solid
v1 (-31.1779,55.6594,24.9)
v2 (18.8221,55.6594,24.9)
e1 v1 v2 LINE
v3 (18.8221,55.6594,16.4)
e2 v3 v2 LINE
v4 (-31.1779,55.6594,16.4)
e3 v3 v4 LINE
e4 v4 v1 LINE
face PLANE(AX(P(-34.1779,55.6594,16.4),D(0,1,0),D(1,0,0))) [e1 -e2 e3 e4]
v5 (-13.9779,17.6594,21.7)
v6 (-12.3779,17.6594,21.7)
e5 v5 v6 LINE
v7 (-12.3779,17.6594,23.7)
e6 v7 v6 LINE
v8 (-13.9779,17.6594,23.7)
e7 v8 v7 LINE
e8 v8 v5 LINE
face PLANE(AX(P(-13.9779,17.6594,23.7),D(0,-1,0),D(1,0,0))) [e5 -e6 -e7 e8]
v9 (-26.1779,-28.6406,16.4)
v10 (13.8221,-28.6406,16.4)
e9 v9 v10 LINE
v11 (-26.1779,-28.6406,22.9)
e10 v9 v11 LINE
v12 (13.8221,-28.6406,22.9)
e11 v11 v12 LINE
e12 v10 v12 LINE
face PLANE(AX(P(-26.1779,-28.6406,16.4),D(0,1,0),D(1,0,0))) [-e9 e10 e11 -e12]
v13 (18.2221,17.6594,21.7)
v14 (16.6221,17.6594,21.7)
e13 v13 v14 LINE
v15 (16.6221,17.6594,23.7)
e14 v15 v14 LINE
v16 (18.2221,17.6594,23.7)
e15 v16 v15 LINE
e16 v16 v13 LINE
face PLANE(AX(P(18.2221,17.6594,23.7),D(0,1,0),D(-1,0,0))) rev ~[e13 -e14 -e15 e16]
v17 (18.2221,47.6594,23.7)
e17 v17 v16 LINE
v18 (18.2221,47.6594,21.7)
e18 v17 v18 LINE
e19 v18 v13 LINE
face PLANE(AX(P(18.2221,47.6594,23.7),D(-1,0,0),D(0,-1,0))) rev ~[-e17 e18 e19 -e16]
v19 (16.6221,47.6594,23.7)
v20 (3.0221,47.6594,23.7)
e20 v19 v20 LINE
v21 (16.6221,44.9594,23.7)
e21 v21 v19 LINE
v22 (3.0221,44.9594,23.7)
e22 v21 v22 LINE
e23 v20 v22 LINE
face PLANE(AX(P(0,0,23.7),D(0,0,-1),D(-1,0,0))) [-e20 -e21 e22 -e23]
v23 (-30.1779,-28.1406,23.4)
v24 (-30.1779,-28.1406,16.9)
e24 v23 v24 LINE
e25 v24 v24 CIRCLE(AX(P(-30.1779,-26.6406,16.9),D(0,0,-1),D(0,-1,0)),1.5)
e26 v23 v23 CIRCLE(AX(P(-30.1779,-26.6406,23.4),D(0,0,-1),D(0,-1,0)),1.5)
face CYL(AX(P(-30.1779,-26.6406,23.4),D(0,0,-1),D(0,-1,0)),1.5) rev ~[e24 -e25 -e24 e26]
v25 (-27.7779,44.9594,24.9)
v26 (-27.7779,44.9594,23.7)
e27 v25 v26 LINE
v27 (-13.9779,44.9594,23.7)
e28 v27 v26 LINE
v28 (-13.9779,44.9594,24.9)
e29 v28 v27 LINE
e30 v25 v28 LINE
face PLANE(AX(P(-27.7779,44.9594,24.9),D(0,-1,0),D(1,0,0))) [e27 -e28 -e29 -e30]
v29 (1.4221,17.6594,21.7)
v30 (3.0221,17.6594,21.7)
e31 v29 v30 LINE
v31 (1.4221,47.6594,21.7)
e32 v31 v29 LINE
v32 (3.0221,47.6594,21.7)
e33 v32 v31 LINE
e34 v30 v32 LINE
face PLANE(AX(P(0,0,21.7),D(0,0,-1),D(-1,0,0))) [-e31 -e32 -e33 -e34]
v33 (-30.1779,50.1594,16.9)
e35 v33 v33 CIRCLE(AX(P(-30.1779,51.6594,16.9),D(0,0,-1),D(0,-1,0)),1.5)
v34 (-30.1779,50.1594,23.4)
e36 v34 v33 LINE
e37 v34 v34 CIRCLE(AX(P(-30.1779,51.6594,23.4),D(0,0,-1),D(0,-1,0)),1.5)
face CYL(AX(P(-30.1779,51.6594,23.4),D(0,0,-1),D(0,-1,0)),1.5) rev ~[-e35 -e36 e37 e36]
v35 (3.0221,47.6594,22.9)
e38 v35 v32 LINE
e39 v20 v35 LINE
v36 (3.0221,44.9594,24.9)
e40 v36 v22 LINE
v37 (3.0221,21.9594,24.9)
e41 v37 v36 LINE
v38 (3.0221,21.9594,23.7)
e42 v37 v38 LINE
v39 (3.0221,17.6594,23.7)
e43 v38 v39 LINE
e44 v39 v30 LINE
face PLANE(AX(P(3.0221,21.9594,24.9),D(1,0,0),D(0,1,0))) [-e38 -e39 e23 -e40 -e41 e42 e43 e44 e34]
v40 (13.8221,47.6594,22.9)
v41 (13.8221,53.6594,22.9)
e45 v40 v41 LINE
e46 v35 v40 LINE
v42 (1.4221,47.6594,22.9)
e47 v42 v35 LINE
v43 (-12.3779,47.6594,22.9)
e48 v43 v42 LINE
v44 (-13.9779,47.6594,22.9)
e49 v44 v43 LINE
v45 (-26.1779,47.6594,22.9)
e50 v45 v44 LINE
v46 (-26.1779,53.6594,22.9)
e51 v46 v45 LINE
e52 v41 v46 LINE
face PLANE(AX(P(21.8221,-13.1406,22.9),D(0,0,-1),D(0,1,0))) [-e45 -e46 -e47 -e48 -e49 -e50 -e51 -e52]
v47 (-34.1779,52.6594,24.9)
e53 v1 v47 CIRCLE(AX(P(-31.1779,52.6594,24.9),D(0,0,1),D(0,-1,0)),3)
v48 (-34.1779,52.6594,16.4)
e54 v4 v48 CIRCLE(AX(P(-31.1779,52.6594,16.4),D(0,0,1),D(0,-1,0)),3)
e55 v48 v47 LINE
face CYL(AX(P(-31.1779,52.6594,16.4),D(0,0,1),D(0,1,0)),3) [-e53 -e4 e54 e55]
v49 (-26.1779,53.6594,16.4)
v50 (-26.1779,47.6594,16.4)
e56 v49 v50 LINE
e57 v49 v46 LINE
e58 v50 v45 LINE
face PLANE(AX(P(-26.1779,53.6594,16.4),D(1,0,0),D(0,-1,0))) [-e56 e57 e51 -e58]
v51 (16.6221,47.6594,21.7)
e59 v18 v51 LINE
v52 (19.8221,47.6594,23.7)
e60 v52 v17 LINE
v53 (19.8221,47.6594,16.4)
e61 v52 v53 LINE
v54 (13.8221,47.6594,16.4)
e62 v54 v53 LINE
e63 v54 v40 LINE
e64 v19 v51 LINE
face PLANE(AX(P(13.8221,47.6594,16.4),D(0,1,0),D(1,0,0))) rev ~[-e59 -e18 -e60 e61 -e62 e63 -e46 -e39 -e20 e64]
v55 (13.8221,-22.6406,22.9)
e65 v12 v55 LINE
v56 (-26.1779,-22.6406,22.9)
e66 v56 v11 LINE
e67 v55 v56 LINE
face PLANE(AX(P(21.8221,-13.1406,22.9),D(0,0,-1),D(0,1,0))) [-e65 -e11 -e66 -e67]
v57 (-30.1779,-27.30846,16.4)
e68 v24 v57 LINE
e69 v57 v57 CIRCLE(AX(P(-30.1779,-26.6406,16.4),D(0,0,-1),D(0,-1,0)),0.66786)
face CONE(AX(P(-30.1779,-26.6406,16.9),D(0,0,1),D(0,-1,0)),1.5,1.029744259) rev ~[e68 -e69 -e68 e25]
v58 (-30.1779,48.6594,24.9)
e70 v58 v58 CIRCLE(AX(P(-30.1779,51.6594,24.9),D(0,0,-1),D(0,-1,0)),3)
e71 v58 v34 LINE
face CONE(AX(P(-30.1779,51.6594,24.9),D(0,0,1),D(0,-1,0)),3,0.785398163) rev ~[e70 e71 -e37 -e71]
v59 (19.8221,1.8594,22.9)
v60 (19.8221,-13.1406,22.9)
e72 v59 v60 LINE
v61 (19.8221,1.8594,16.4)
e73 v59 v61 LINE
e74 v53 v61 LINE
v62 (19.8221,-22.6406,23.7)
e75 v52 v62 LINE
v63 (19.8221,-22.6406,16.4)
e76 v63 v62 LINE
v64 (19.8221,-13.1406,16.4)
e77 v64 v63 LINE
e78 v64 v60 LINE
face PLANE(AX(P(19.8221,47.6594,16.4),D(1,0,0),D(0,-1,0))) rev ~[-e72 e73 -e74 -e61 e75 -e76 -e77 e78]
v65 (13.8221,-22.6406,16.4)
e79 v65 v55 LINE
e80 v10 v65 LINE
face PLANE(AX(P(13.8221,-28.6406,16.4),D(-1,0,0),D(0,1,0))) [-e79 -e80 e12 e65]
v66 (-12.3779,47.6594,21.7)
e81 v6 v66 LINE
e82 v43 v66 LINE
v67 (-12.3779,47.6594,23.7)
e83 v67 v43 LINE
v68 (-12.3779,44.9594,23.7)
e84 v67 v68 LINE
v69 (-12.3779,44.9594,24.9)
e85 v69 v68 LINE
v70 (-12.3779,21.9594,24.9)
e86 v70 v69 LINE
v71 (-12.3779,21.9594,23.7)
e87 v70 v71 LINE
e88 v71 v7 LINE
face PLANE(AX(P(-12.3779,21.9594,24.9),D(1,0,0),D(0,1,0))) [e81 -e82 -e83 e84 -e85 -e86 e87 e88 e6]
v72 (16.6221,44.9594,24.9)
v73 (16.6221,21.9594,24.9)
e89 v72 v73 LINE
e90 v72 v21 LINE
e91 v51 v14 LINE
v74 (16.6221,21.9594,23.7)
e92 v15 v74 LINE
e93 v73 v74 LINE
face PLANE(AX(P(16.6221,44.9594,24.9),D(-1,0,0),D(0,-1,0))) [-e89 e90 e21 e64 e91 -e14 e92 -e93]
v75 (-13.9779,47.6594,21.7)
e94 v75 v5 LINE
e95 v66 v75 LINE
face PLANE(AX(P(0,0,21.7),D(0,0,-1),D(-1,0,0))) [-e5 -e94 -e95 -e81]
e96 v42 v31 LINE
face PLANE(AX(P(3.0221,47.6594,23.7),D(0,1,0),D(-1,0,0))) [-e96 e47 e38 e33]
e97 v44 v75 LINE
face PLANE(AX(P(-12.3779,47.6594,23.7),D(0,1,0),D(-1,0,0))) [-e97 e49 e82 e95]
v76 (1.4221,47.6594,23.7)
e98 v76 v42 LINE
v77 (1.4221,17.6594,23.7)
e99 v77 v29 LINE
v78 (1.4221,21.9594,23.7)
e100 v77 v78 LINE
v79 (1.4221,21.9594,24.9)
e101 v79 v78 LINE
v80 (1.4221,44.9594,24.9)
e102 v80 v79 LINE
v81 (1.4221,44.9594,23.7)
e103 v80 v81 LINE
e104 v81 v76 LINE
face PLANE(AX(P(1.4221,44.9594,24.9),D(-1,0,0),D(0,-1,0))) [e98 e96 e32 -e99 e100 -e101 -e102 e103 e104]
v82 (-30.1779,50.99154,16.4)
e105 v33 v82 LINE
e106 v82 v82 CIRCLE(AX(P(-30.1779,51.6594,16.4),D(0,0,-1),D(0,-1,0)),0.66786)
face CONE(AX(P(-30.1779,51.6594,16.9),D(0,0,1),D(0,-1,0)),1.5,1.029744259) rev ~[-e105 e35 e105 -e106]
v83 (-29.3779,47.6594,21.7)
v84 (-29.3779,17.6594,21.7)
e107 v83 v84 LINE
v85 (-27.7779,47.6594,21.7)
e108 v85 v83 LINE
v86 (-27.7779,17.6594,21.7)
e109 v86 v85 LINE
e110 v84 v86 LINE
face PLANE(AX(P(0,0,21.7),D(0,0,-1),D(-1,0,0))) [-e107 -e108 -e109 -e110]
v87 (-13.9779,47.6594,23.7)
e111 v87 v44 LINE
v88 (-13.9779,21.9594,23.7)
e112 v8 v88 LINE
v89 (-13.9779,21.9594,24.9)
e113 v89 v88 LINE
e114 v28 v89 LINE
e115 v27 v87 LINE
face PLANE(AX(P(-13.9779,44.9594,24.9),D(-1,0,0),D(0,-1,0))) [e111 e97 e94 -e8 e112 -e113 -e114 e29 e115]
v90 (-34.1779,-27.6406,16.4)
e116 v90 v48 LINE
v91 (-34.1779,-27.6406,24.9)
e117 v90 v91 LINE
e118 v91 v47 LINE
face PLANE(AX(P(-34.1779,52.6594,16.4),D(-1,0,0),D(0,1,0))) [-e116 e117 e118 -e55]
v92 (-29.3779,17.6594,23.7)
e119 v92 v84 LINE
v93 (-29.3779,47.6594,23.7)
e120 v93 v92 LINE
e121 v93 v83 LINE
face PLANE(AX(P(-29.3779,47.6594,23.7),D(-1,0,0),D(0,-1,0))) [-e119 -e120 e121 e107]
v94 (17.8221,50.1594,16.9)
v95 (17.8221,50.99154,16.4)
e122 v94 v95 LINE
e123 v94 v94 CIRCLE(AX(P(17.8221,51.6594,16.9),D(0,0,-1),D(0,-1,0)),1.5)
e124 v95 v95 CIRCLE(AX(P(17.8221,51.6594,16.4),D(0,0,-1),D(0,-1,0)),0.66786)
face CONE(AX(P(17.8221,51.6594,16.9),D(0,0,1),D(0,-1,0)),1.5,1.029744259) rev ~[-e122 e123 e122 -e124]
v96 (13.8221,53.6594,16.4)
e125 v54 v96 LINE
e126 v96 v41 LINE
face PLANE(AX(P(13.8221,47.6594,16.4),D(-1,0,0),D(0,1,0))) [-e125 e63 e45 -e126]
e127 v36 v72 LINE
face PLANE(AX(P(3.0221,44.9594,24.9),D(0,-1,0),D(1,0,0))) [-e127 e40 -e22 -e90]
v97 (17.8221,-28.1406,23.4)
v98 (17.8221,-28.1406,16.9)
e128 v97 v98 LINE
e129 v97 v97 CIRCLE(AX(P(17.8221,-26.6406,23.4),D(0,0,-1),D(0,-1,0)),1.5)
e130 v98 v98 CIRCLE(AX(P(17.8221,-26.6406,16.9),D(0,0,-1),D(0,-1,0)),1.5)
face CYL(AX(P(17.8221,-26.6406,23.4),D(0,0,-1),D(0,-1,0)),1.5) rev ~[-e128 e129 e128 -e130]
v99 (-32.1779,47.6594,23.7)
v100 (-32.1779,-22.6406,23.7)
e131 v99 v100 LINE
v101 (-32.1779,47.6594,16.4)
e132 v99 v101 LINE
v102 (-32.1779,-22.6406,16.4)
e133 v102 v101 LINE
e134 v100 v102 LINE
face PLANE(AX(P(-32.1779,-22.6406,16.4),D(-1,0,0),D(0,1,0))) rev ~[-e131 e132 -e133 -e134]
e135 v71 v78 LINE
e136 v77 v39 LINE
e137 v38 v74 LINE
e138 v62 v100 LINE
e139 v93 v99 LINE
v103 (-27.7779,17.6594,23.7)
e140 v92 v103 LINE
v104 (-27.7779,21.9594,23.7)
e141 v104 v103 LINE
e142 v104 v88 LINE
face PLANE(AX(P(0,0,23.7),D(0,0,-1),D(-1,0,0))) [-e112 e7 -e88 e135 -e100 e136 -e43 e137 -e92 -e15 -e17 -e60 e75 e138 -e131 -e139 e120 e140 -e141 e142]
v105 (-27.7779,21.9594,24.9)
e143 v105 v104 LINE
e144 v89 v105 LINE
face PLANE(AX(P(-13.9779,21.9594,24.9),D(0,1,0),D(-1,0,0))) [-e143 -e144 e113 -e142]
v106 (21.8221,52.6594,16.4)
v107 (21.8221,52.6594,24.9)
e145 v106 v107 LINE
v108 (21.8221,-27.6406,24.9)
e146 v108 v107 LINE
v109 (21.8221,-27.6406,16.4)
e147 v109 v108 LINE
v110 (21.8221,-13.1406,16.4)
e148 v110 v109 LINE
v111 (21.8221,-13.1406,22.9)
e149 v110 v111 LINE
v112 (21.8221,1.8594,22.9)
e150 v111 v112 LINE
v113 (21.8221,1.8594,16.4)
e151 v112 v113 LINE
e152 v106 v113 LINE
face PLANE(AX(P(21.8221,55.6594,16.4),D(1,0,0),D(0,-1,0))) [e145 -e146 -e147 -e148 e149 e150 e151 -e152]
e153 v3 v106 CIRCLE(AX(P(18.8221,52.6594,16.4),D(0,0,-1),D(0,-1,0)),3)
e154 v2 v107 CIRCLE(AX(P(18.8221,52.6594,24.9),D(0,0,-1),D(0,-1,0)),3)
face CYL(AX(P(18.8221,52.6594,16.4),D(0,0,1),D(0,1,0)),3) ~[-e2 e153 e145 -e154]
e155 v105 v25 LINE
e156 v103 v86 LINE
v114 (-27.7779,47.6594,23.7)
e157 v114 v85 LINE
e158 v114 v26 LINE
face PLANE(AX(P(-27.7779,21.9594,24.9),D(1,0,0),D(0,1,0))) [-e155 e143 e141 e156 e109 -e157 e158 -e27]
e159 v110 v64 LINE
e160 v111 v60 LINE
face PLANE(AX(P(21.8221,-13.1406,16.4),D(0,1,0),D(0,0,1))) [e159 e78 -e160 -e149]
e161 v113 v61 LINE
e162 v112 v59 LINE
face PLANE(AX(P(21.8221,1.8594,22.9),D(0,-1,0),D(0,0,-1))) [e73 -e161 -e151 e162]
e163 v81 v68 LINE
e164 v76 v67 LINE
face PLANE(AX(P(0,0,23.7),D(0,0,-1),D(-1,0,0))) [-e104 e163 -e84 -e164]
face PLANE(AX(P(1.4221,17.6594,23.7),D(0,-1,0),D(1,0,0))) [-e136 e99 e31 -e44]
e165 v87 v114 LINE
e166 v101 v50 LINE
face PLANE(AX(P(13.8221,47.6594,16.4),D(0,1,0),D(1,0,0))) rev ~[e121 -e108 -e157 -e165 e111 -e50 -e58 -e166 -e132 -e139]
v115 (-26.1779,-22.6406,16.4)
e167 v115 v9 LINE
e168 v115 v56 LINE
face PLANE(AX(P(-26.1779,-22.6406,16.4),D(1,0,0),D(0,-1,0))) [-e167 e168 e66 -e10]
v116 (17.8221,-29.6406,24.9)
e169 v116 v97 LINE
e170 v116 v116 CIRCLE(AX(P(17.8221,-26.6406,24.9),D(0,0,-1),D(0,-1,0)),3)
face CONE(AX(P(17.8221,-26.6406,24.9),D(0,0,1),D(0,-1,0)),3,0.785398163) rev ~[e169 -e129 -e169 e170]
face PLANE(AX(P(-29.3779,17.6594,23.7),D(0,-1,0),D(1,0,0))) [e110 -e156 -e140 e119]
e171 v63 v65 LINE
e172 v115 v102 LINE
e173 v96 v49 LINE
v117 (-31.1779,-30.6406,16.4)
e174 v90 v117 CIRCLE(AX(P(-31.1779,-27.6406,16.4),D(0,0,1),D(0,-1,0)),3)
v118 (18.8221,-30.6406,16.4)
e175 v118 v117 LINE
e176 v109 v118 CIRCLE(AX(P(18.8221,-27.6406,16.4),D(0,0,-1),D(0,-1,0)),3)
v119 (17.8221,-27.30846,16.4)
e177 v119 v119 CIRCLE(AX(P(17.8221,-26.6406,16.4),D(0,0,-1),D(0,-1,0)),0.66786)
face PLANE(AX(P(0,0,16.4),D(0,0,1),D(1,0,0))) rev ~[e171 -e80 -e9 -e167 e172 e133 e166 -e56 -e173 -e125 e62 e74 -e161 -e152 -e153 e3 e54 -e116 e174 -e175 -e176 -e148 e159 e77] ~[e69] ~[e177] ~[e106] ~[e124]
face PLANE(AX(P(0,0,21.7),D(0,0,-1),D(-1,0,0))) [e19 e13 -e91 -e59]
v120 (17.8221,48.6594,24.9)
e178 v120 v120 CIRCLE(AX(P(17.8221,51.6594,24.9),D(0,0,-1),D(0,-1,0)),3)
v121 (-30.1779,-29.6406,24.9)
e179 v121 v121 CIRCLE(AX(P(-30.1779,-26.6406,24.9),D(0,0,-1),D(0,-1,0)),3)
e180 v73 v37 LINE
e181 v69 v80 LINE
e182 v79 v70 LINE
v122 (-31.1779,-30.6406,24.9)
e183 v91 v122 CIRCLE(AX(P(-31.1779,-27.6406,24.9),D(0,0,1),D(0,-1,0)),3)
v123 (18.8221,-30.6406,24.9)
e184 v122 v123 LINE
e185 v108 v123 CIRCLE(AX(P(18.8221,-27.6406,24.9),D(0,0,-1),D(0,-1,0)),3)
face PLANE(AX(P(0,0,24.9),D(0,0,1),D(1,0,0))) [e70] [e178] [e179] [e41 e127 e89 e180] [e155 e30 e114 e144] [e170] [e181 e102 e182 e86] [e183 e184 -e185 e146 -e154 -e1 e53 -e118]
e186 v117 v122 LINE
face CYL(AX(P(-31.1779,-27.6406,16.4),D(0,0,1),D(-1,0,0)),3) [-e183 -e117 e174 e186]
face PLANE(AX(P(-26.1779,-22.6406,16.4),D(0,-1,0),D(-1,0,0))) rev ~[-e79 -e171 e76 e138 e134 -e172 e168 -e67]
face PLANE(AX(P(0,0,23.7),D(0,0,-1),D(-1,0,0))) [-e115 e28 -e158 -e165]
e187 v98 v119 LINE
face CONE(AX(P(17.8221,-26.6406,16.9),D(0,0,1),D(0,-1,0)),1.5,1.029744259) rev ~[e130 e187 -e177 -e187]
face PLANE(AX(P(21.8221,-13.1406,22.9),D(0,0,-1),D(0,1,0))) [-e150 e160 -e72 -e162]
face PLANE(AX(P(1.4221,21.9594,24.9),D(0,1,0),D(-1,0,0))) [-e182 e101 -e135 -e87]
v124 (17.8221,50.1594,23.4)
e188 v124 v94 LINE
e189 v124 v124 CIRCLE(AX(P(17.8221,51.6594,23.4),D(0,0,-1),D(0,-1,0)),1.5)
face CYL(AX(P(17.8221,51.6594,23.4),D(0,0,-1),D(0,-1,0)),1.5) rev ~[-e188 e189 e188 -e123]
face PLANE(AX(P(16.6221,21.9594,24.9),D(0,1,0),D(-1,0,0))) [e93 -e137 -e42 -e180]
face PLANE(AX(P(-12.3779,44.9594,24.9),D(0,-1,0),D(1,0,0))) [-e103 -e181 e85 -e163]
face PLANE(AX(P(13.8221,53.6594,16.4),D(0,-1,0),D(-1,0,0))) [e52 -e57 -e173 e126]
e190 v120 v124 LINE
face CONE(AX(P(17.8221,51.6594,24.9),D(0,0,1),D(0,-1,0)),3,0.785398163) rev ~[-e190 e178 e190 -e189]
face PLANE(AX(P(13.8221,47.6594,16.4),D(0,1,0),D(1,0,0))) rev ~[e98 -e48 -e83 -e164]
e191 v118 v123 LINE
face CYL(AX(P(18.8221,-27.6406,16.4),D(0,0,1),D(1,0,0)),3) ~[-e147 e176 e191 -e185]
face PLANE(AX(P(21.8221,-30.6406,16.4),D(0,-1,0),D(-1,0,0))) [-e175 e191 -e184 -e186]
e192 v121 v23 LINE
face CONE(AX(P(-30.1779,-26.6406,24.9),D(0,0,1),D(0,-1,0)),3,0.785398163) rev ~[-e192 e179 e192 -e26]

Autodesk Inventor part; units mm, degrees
ref_plane "YZ Plane" through (0, 0, 0) normal (1, 0, 0) x (0, 1, 0)
ref_plane "XZ Plane" through (0, 0, 0) normal (0, 1, 0) x (-1, 0, 0)
ref_plane "XY Plane" through (0, 0, 0) normal (0, 0, 1) x (1, 0, 0)
sketch "Sketch1" plane through (0, 0, 0) normal (0, 0, 1) x (1, 0, 0)
  line L0 (-34.1779, 55.6594) -> (21.8221, 55.6594)
  line L1 (21.8221, 55.6594) -> (21.8221, -30.6406)
  line L2 (21.8221, -30.6406) -> (-34.1779, -30.6406)
  line L3 (-34.1779, -30.6406) -> (-34.1779, 55.6594)
  point P0 (0, 0)
  dimension "d0" = 56
  dimension "d1" = 86.3
extrude "Extrusion1" add sketch "Sketch1" along normal blind 2
sketch "Sketch2" plane through (0, 0, 2) normal (0, 0, 1) x (1, 0, 0)
  line L0 (-34.1779, 55.6594) -> (21.8221, 55.6594)
  line L1 (21.8221, 55.6594) -> (21.8221, -30.6406)
  line L2 (21.8221, -30.6406) -> (-34.1779, -30.6406)
  line L3 (-34.1779, -30.6406) -> (-34.1779, 55.6594)
  line L4 (-32.1779, 53.6594) -> (19.8221, 53.6594)
  line L5 (19.8221, 53.6594) -> (19.8221, -28.6406)
  line L6 (19.8221, -28.6406) -> (-32.1779, -28.6406)
  line L7 (-32.1779, -28.6406) -> (-32.1779, 53.6594)
  point P0 (0, 0)
  dimension "d4" = 2
  dimension "d5" = 2
  dimension "d6" = 2
  dimension "d7" = 2
extrude "Extrusion2" add sketch "Sketch2" along normal blind 14.4
sketch "Sketch3" plane through (0, 0, 2) normal (0, 0, 1) x (1, 0, 0)
  line L0 (-34.1779, 55.6594) -> (-26.1779, 55.6594)
  line L1 (-26.1779, 55.6594) -> (-26.1779, 47.6594)
  line L2 (-26.1779, 47.6594) -> (-34.1779, 47.6594)
  line L3 (-34.1779, 47.6594) -> (-34.1779, 55.6594)
  line L4 (21.8221, 55.6594) -> (13.8221, 55.6594)
  line L5 (13.8221, 55.6594) -> (13.8221, 47.6594)
  line L6 (13.8221, 47.6594) -> (21.8221, 47.6594)
  line L7 (21.8221, 47.6594) -> (21.8221, 55.6594)
  line L8 (-34.1779, -30.6406) -> (-26.1779, -30.6406)
  line L9 (-26.1779, -30.6406) -> (-26.1779, -22.6406)
  line L10 (-26.1779, -22.6406) -> (-34.1779, -22.6406)
  line L11 (-34.1779, -22.6406) -> (-34.1779, -30.6406)
  line L12 (21.8221, -30.6406) -> (13.8221, -30.6406)
  line L13 (13.8221, -30.6406) -> (13.8221, -22.6406)
  line L14 (13.8221, -22.6406) -> (21.8221, -22.6406)
  line L15 (21.8221, -22.6406) -> (21.8221, -30.6406)
  line L16 (-34.1779, -30.6406) -> (21.8221, -30.6406) projected
  point P0 (0, 0)
  dimension "d10" = 8
  dimension "d11" = 8
  dimension "d12" = 8
  dimension "d13" = 8
  dimension "d14" = 8
  dimension "d15" = 8
  dimension "d16" = 8
  dimension "d17" = 8
extrude "Extrusion3" add sketch "Sketch3" along normal blind 14.4
sketch "Sketch4" plane through (0, 0, 16.4) normal (0, 0, 1) x (1, 0, 0)
  line L0 (-26.1779, -22.6406) -> (-32.1779, -22.6406) projected
  line L1 (19.8221, -22.6406) -> (13.8221, -22.6406) projected
  line L2 (21.8221, 55.6594) -> (21.8221, -30.6406) projected
  line L3 (21.8221, 55.6594) -> (-34.1779, 55.6594) projected
  line L4 (-34.1779, -30.6406) -> (-34.1779, 55.6594) projected
  point P0 (0, 0)
  point P1 (-30.1779, 51.6594)
  point P2 (17.8221, 51.6594)
  point P3 (-30.5754, -26.6406)
  point P4 (17.8221, -26.6406)
  dimension "d20" = 4
  dimension "d21" = 4
  dimension "d22" = 4
  dimension "d23" = 4
  dimension "d24" = 4
  dimension "d25" = 4
  dimension "d26" = 4
hole "Hole1" at (-30.1779, 51.6594, 16.4) at (17.8221, 51.6594, 16.4) at (-30.5754, -26.6406, 16.4) at (17.8221, -26.6406, 16.4) direction (0, 0, -1) diameter 3 depth 6 tip angle 118
fillet "Fillet1" radius 3 4 edges at (-34.1779, 55.6594, 8.2) (21.8221, 55.6594, 8.2) (-34.1779, -30.6406, 8.2) (21.8221, -30.6406, 8.2)
sketch "Sketch5" plane through (0, 0, 2) normal (0, 0, 1) x (1, 0, 0)
  line L0 (-32.1779, 47.6594) -> (19.8221, 47.6594)
  line L1 (19.8221, 47.6594) -> (19.8221, 43.3594)
  line L2 (19.8221, 43.3594) -> (-32.1779, 43.3594)
  line L3 (-32.1779, 43.3594) -> (-32.1779, 47.6594)
  line L4 (19.8221, 47.6594) -> (19.8221, -22.6406) projected
  line L5 (-32.1779, -22.6406) -> (19.8221, -22.6406)
  line L6 (19.8221, -22.6406) -> (19.8221, -18.3406)
  line L7 (19.8221, -18.3406) -> (-32.1779, -18.3406)
  line L8 (-32.1779, -18.3406) -> (-32.1779, -22.6406)
  point P0 (0, 0)
  dimension "d35" = 4.3
  dimension "d36" = 4.3
extrude "Extrusion4" add sketch "Sketch5" along normal blind 2.5
sketch "Sketch6" plane through (0, 0, 16.4) normal (0, 0, 1) x (1, 0, 0)
  line L0 (-34.1779, 55.6594) -> (21.8221, 55.6594)
  line L1 (21.8221, 55.6594) -> (21.8221, -30.6406)
  line L2 (21.8221, -30.6406) -> (-34.1779, -30.6406)
  line L3 (-34.1779, -30.6406) -> (-34.1779, 55.6594)
  line L4 (18.8221, 55.6594) -> (-31.1779, 55.6594) projected
  line L5 (-34.1779, 52.6594) -> (-34.1779, -27.6406) projected
  line L6 (21.8221, -27.6406) -> (21.8221, 52.6594) projected
  line L7 (-31.1779, -30.6406) -> (18.8221, -30.6406) projected
  point P0 (0, 0)
extrude "Extrusion5" add sketch "Sketch6" along normal blind 8.5
sketch "Sketch7" plane through (-31.1779, -30.6406, 0) normal (0, -1, 0) x (1, 0, 0)
  line L0 (-3, 16.4) -> (53, 16.4)
  line L1 (53, 16.4) -> (53, 0)
  line L2 (53, 0) -> (-3, 0)
  line L3 (-3, 0) -> (-3, 16.4)
  point P0 (31.1779, 0)
extrude "Extrusion6" cut sketch "Sketch7" against normal blind 300
fillet "Fillet2" radius 3 4 edges at (-34.1779, -30.6406, 20.65) (21.8221, -30.6406, 20.65) (-34.1779, 55.6594, 20.65) (21.8221, 55.6594, 20.65)
sketch "Sketch8" plane through (0, 0, 16.4) normal (0, 0, -1) x (-1, 0, 0)
  line L0 (26.1779, -28.6406) -> (-13.8221, -28.6406)
  line L1 (-13.8221, -28.6406) -> (-13.8221, 53.6594)
  line L2 (-13.8221, 53.6594) -> (26.1779, 53.6594)
  line L3 (26.1779, 53.6594) -> (26.1779, -28.6406)
  line L4 (-19.8221, -22.6406) -> (32.1779, -22.6406)
  line L5 (32.1779, -22.6406) -> (32.1779, 47.6594)
  line L6 (32.1779, 47.6594) -> (-19.8221, 47.6594)
  line L7 (-19.8221, 47.6594) -> (-19.8221, -22.6406)
  line L8 (31.1779, -30.6406) -> (-18.8221, -30.6406) projected
  line L9 (-18.8221, 55.6594) -> (31.1779, 55.6594) projected
  line L10 (34.1779, 52.6594) -> (34.1779, -27.6406) projected
  line L11 (-21.8221, -27.6406) -> (-21.8221, 52.6594) projected
  point P0 (0, 0)
  dimension "d44" = 8
  dimension "d45" = 8
  dimension "d46" = 8
  dimension "d47" = 8
  dimension "d48" = 2
  dimension "d49" = 2
  dimension "d50" = 2
  dimension "d51" = 2
extrude "Extrusion7" cut sketch "Sketch8" against normal blind 6.5
sketch "Sketch9" plane through (0, 0, 24.9) normal (0, 0, 1) x (1, 0, 0)
  line L0 (-34.1779, 52.6594) -> (-34.1779, -27.6406) projected
  line L1 (18.8221, 55.6594) -> (-31.1779, 55.6594) projected
  line L2 (21.8221, -27.6406) -> (21.8221, 52.6594) projected
  line L3 (-31.1779, -30.6406) -> (18.8221, -30.6406) projected
  point P0 (0, 0)
  point P1 (-30.1779, 51.6594)
  point P2 (17.8221, 51.6594)
  point P3 (-30.1779, -26.6406)
  point P4 (17.8221, -26.6406)
  dimension "d54" = 4
  dimension "d55" = 4
  dimension "d56" = 4
  dimension "d57" = 4
  dimension "d58" = 4
  dimension "d59" = 4
  dimension "d60" = 4
  dimension "d61" = 4
hole "Hole2" at (-30.1779, 51.6594, 24.9) at (17.8221, 51.6594, 24.9) at (-30.1779, -26.6406, 24.9) at (17.8221, -26.6406, 24.9) direction (0, 0, -1) diameter 3 depth 8 tip angle 118 countersink diameter 6 countersink angle 90
sketch "Sketch10" plane through (21.8221, -27.6406, 24.9) normal (1, 0, 0) x (0, 0, -1)
  line L0 (8.5, 5) -> (8.5, 75.3) projected
  line L1 (8.5, 14.5) -> (2, 14.5)
  line L2 (2, 14.5) -> (2, 29.5)
  line L3 (2, 29.5) -> (8.5, 29.5)
  line L4 (8.5, 29.5) -> (8.5, 14.5)
  line L5 (0, -3) -> (8.5, -3) projected
  point P0 (24.9, 27.6406)
  dimension "d69" = 17.5
  dimension "d70" = 32.5
  dimension "d71" = 6.5
extrude "Extrusion8" cut sketch "Sketch10" against normal blind 6.5
sketch "Sketch11" plane through (0, 0, 22.9) normal (0, 0, -1) x (-1, 0, 0)
  line L0 (32.1779, 47.6594) -> (32.1779, -22.6406) projected
  line L1 (-19.8221, -22.6406) -> (32.1779, -22.6406)
  line L2 (32.1779, -22.6406) -> (32.1779, 47.6594)
  line L3 (32.1779, 47.6594) -> (-19.8221, 47.6594)
  line L4 (-19.8221, 47.6594) -> (-19.8221, -22.6406)
  line L5 (-19.8221, 47.6594) -> (-13.8221, 47.6594) projected
  point P0 (0, 0)
extrude "Extrusion9" cut sketch "Sketch11" against normal blind 0.8
sketch "Sketch12" plane through (0, 0, 24.9) normal (0, 0, 1) x (1, 0, 0)
  line L0 (-27.7779, 44.9594) -> (-13.9779, 44.9594)
  line L1 (-13.9779, 44.9594) -> (-13.9779, 21.9594)
  line L2 (-13.9779, 21.9594) -> (-27.7779, 21.9594)
  line L3 (-27.7779, 21.9594) -> (-27.7779, 44.9594)
  line L4 (-12.3779, 44.9594) -> (1.4221, 44.9594)
  line L5 (1.4221, 44.9594) -> (1.4221, 21.9594)
  line L6 (1.4221, 21.9594) -> (-12.3779, 21.9594)
  line L7 (-12.3779, 21.9594) -> (-12.3779, 44.9594)
  line L8 (3.0221, 44.9594) -> (16.6221, 44.9594)
  line L9 (16.6221, 44.9594) -> (16.6221, 21.9594)
  line L10 (16.6221, 21.9594) -> (3.0221, 21.9594)
  line L11 (3.0221, 21.9594) -> (3.0221, 44.9594)
  line L12 (18.8221, 55.6594) -> (-31.1779, 55.6594) projected
  line L13 (-34.1779, 52.6594) -> (-34.1779, -27.6406) projected
  point P0 (0, 0)
  dimension "d76" = 10.7
  dimension "d77" = 33.7
  dimension "d78" = 6.4
  dimension "d79" = 20.2
  dimension "d80" = 13.8
  dimension "d81" = 13.8
  dimension "d82" = 21.8
  dimension "d83" = 35.6
  dimension "d84" = 37.2
  dimension "d85" = 50.8
  dimension "d86" = 13.6
  dimension "d87" = 1.6
  dimension "d88" = 1.6
extrude "Extrusion10" cut sketch "Sketch12" against normal blind 3
sketch "Sketch13" plane through (0, 0, 23.7) normal (0, 0, -1) x (-1, 0, 0)
  line L0 (-19.8221, 47.6594) -> (32.1779, 47.6594) projected
  line L1 (-3.0221, 47.6594) -> (-1.4221, 47.6594)
  line L2 (-1.4221, 47.6594) -> (-1.4221, 17.6594)
  line L3 (-1.4221, 17.6594) -> (-3.0221, 17.6594)
  line L4 (-3.0221, 17.6594) -> (-3.0221, 47.6594)
  line L5 (12.3779, 47.6594) -> (13.9779, 47.6594)
  line L6 (13.9779, 47.6594) -> (13.9779, 17.6594)
  line L7 (13.9779, 17.6594) -> (12.3779, 17.6594)
  line L8 (12.3779, 17.6594) -> (12.3779, 47.6594)
  line L9 (-3.0221, 44.9594) -> (-3.0221, 21.9594) projected
  line L10 (-1.4221, 21.9594) -> (-1.4221, 44.9594) projected
  line L11 (12.3779, 44.9594) -> (12.3779, 21.9594) projected
  line L12 (13.9779, 21.9594) -> (13.9779, 44.9594) projected
  point P0 (0, 0)
  dimension "d91" = 30
extrude "Extrusion11" add sketch "Sketch13" along normal blind 2
sketch "Sketch14" plane through (0, 0, 23.7) normal (0, 0, -1) x (-1, 0, 0)
  line L0 (-19.8221, 47.6594) -> (-3.0221, 47.6594) projected
  line L1 (-16.6221, 47.6594) -> (-18.2221, 47.6594)
  line L2 (-18.2221, 47.6594) -> (-18.2221, 17.6594)
  line L3 (-18.2221, 17.6594) -> (-16.6221, 17.6594)
  line L4 (-16.6221, 17.6594) -> (-16.6221, 47.6594)
  line L5 (27.7779, 47.6594) -> (29.3779, 47.6594)
  line L6 (29.3779, 47.6594) -> (29.3779, 17.6594)
  line L7 (29.3779, 17.6594) -> (27.7779, 17.6594)
  line L8 (27.7779, 17.6594) -> (27.7779, 47.6594)
  line L9 (-16.6221, 21.9594) -> (-16.6221, 44.9594) projected
  line L10 (27.7779, 44.9594) -> (27.7779, 21.9594) projected
  line L11 (-3.0221, 17.6594) -> (-1.4221, 17.6594) projected
  line L12 (12.3779, 17.6594) -> (13.9779, 17.6594) projected
  point P0 (0, 0)
  dimension "d94" = 1.6
  dimension "d95" = 1.6
extrude "Extrusion12" add sketch "Sketch14" along normal blind 2
properties part number "cover"
